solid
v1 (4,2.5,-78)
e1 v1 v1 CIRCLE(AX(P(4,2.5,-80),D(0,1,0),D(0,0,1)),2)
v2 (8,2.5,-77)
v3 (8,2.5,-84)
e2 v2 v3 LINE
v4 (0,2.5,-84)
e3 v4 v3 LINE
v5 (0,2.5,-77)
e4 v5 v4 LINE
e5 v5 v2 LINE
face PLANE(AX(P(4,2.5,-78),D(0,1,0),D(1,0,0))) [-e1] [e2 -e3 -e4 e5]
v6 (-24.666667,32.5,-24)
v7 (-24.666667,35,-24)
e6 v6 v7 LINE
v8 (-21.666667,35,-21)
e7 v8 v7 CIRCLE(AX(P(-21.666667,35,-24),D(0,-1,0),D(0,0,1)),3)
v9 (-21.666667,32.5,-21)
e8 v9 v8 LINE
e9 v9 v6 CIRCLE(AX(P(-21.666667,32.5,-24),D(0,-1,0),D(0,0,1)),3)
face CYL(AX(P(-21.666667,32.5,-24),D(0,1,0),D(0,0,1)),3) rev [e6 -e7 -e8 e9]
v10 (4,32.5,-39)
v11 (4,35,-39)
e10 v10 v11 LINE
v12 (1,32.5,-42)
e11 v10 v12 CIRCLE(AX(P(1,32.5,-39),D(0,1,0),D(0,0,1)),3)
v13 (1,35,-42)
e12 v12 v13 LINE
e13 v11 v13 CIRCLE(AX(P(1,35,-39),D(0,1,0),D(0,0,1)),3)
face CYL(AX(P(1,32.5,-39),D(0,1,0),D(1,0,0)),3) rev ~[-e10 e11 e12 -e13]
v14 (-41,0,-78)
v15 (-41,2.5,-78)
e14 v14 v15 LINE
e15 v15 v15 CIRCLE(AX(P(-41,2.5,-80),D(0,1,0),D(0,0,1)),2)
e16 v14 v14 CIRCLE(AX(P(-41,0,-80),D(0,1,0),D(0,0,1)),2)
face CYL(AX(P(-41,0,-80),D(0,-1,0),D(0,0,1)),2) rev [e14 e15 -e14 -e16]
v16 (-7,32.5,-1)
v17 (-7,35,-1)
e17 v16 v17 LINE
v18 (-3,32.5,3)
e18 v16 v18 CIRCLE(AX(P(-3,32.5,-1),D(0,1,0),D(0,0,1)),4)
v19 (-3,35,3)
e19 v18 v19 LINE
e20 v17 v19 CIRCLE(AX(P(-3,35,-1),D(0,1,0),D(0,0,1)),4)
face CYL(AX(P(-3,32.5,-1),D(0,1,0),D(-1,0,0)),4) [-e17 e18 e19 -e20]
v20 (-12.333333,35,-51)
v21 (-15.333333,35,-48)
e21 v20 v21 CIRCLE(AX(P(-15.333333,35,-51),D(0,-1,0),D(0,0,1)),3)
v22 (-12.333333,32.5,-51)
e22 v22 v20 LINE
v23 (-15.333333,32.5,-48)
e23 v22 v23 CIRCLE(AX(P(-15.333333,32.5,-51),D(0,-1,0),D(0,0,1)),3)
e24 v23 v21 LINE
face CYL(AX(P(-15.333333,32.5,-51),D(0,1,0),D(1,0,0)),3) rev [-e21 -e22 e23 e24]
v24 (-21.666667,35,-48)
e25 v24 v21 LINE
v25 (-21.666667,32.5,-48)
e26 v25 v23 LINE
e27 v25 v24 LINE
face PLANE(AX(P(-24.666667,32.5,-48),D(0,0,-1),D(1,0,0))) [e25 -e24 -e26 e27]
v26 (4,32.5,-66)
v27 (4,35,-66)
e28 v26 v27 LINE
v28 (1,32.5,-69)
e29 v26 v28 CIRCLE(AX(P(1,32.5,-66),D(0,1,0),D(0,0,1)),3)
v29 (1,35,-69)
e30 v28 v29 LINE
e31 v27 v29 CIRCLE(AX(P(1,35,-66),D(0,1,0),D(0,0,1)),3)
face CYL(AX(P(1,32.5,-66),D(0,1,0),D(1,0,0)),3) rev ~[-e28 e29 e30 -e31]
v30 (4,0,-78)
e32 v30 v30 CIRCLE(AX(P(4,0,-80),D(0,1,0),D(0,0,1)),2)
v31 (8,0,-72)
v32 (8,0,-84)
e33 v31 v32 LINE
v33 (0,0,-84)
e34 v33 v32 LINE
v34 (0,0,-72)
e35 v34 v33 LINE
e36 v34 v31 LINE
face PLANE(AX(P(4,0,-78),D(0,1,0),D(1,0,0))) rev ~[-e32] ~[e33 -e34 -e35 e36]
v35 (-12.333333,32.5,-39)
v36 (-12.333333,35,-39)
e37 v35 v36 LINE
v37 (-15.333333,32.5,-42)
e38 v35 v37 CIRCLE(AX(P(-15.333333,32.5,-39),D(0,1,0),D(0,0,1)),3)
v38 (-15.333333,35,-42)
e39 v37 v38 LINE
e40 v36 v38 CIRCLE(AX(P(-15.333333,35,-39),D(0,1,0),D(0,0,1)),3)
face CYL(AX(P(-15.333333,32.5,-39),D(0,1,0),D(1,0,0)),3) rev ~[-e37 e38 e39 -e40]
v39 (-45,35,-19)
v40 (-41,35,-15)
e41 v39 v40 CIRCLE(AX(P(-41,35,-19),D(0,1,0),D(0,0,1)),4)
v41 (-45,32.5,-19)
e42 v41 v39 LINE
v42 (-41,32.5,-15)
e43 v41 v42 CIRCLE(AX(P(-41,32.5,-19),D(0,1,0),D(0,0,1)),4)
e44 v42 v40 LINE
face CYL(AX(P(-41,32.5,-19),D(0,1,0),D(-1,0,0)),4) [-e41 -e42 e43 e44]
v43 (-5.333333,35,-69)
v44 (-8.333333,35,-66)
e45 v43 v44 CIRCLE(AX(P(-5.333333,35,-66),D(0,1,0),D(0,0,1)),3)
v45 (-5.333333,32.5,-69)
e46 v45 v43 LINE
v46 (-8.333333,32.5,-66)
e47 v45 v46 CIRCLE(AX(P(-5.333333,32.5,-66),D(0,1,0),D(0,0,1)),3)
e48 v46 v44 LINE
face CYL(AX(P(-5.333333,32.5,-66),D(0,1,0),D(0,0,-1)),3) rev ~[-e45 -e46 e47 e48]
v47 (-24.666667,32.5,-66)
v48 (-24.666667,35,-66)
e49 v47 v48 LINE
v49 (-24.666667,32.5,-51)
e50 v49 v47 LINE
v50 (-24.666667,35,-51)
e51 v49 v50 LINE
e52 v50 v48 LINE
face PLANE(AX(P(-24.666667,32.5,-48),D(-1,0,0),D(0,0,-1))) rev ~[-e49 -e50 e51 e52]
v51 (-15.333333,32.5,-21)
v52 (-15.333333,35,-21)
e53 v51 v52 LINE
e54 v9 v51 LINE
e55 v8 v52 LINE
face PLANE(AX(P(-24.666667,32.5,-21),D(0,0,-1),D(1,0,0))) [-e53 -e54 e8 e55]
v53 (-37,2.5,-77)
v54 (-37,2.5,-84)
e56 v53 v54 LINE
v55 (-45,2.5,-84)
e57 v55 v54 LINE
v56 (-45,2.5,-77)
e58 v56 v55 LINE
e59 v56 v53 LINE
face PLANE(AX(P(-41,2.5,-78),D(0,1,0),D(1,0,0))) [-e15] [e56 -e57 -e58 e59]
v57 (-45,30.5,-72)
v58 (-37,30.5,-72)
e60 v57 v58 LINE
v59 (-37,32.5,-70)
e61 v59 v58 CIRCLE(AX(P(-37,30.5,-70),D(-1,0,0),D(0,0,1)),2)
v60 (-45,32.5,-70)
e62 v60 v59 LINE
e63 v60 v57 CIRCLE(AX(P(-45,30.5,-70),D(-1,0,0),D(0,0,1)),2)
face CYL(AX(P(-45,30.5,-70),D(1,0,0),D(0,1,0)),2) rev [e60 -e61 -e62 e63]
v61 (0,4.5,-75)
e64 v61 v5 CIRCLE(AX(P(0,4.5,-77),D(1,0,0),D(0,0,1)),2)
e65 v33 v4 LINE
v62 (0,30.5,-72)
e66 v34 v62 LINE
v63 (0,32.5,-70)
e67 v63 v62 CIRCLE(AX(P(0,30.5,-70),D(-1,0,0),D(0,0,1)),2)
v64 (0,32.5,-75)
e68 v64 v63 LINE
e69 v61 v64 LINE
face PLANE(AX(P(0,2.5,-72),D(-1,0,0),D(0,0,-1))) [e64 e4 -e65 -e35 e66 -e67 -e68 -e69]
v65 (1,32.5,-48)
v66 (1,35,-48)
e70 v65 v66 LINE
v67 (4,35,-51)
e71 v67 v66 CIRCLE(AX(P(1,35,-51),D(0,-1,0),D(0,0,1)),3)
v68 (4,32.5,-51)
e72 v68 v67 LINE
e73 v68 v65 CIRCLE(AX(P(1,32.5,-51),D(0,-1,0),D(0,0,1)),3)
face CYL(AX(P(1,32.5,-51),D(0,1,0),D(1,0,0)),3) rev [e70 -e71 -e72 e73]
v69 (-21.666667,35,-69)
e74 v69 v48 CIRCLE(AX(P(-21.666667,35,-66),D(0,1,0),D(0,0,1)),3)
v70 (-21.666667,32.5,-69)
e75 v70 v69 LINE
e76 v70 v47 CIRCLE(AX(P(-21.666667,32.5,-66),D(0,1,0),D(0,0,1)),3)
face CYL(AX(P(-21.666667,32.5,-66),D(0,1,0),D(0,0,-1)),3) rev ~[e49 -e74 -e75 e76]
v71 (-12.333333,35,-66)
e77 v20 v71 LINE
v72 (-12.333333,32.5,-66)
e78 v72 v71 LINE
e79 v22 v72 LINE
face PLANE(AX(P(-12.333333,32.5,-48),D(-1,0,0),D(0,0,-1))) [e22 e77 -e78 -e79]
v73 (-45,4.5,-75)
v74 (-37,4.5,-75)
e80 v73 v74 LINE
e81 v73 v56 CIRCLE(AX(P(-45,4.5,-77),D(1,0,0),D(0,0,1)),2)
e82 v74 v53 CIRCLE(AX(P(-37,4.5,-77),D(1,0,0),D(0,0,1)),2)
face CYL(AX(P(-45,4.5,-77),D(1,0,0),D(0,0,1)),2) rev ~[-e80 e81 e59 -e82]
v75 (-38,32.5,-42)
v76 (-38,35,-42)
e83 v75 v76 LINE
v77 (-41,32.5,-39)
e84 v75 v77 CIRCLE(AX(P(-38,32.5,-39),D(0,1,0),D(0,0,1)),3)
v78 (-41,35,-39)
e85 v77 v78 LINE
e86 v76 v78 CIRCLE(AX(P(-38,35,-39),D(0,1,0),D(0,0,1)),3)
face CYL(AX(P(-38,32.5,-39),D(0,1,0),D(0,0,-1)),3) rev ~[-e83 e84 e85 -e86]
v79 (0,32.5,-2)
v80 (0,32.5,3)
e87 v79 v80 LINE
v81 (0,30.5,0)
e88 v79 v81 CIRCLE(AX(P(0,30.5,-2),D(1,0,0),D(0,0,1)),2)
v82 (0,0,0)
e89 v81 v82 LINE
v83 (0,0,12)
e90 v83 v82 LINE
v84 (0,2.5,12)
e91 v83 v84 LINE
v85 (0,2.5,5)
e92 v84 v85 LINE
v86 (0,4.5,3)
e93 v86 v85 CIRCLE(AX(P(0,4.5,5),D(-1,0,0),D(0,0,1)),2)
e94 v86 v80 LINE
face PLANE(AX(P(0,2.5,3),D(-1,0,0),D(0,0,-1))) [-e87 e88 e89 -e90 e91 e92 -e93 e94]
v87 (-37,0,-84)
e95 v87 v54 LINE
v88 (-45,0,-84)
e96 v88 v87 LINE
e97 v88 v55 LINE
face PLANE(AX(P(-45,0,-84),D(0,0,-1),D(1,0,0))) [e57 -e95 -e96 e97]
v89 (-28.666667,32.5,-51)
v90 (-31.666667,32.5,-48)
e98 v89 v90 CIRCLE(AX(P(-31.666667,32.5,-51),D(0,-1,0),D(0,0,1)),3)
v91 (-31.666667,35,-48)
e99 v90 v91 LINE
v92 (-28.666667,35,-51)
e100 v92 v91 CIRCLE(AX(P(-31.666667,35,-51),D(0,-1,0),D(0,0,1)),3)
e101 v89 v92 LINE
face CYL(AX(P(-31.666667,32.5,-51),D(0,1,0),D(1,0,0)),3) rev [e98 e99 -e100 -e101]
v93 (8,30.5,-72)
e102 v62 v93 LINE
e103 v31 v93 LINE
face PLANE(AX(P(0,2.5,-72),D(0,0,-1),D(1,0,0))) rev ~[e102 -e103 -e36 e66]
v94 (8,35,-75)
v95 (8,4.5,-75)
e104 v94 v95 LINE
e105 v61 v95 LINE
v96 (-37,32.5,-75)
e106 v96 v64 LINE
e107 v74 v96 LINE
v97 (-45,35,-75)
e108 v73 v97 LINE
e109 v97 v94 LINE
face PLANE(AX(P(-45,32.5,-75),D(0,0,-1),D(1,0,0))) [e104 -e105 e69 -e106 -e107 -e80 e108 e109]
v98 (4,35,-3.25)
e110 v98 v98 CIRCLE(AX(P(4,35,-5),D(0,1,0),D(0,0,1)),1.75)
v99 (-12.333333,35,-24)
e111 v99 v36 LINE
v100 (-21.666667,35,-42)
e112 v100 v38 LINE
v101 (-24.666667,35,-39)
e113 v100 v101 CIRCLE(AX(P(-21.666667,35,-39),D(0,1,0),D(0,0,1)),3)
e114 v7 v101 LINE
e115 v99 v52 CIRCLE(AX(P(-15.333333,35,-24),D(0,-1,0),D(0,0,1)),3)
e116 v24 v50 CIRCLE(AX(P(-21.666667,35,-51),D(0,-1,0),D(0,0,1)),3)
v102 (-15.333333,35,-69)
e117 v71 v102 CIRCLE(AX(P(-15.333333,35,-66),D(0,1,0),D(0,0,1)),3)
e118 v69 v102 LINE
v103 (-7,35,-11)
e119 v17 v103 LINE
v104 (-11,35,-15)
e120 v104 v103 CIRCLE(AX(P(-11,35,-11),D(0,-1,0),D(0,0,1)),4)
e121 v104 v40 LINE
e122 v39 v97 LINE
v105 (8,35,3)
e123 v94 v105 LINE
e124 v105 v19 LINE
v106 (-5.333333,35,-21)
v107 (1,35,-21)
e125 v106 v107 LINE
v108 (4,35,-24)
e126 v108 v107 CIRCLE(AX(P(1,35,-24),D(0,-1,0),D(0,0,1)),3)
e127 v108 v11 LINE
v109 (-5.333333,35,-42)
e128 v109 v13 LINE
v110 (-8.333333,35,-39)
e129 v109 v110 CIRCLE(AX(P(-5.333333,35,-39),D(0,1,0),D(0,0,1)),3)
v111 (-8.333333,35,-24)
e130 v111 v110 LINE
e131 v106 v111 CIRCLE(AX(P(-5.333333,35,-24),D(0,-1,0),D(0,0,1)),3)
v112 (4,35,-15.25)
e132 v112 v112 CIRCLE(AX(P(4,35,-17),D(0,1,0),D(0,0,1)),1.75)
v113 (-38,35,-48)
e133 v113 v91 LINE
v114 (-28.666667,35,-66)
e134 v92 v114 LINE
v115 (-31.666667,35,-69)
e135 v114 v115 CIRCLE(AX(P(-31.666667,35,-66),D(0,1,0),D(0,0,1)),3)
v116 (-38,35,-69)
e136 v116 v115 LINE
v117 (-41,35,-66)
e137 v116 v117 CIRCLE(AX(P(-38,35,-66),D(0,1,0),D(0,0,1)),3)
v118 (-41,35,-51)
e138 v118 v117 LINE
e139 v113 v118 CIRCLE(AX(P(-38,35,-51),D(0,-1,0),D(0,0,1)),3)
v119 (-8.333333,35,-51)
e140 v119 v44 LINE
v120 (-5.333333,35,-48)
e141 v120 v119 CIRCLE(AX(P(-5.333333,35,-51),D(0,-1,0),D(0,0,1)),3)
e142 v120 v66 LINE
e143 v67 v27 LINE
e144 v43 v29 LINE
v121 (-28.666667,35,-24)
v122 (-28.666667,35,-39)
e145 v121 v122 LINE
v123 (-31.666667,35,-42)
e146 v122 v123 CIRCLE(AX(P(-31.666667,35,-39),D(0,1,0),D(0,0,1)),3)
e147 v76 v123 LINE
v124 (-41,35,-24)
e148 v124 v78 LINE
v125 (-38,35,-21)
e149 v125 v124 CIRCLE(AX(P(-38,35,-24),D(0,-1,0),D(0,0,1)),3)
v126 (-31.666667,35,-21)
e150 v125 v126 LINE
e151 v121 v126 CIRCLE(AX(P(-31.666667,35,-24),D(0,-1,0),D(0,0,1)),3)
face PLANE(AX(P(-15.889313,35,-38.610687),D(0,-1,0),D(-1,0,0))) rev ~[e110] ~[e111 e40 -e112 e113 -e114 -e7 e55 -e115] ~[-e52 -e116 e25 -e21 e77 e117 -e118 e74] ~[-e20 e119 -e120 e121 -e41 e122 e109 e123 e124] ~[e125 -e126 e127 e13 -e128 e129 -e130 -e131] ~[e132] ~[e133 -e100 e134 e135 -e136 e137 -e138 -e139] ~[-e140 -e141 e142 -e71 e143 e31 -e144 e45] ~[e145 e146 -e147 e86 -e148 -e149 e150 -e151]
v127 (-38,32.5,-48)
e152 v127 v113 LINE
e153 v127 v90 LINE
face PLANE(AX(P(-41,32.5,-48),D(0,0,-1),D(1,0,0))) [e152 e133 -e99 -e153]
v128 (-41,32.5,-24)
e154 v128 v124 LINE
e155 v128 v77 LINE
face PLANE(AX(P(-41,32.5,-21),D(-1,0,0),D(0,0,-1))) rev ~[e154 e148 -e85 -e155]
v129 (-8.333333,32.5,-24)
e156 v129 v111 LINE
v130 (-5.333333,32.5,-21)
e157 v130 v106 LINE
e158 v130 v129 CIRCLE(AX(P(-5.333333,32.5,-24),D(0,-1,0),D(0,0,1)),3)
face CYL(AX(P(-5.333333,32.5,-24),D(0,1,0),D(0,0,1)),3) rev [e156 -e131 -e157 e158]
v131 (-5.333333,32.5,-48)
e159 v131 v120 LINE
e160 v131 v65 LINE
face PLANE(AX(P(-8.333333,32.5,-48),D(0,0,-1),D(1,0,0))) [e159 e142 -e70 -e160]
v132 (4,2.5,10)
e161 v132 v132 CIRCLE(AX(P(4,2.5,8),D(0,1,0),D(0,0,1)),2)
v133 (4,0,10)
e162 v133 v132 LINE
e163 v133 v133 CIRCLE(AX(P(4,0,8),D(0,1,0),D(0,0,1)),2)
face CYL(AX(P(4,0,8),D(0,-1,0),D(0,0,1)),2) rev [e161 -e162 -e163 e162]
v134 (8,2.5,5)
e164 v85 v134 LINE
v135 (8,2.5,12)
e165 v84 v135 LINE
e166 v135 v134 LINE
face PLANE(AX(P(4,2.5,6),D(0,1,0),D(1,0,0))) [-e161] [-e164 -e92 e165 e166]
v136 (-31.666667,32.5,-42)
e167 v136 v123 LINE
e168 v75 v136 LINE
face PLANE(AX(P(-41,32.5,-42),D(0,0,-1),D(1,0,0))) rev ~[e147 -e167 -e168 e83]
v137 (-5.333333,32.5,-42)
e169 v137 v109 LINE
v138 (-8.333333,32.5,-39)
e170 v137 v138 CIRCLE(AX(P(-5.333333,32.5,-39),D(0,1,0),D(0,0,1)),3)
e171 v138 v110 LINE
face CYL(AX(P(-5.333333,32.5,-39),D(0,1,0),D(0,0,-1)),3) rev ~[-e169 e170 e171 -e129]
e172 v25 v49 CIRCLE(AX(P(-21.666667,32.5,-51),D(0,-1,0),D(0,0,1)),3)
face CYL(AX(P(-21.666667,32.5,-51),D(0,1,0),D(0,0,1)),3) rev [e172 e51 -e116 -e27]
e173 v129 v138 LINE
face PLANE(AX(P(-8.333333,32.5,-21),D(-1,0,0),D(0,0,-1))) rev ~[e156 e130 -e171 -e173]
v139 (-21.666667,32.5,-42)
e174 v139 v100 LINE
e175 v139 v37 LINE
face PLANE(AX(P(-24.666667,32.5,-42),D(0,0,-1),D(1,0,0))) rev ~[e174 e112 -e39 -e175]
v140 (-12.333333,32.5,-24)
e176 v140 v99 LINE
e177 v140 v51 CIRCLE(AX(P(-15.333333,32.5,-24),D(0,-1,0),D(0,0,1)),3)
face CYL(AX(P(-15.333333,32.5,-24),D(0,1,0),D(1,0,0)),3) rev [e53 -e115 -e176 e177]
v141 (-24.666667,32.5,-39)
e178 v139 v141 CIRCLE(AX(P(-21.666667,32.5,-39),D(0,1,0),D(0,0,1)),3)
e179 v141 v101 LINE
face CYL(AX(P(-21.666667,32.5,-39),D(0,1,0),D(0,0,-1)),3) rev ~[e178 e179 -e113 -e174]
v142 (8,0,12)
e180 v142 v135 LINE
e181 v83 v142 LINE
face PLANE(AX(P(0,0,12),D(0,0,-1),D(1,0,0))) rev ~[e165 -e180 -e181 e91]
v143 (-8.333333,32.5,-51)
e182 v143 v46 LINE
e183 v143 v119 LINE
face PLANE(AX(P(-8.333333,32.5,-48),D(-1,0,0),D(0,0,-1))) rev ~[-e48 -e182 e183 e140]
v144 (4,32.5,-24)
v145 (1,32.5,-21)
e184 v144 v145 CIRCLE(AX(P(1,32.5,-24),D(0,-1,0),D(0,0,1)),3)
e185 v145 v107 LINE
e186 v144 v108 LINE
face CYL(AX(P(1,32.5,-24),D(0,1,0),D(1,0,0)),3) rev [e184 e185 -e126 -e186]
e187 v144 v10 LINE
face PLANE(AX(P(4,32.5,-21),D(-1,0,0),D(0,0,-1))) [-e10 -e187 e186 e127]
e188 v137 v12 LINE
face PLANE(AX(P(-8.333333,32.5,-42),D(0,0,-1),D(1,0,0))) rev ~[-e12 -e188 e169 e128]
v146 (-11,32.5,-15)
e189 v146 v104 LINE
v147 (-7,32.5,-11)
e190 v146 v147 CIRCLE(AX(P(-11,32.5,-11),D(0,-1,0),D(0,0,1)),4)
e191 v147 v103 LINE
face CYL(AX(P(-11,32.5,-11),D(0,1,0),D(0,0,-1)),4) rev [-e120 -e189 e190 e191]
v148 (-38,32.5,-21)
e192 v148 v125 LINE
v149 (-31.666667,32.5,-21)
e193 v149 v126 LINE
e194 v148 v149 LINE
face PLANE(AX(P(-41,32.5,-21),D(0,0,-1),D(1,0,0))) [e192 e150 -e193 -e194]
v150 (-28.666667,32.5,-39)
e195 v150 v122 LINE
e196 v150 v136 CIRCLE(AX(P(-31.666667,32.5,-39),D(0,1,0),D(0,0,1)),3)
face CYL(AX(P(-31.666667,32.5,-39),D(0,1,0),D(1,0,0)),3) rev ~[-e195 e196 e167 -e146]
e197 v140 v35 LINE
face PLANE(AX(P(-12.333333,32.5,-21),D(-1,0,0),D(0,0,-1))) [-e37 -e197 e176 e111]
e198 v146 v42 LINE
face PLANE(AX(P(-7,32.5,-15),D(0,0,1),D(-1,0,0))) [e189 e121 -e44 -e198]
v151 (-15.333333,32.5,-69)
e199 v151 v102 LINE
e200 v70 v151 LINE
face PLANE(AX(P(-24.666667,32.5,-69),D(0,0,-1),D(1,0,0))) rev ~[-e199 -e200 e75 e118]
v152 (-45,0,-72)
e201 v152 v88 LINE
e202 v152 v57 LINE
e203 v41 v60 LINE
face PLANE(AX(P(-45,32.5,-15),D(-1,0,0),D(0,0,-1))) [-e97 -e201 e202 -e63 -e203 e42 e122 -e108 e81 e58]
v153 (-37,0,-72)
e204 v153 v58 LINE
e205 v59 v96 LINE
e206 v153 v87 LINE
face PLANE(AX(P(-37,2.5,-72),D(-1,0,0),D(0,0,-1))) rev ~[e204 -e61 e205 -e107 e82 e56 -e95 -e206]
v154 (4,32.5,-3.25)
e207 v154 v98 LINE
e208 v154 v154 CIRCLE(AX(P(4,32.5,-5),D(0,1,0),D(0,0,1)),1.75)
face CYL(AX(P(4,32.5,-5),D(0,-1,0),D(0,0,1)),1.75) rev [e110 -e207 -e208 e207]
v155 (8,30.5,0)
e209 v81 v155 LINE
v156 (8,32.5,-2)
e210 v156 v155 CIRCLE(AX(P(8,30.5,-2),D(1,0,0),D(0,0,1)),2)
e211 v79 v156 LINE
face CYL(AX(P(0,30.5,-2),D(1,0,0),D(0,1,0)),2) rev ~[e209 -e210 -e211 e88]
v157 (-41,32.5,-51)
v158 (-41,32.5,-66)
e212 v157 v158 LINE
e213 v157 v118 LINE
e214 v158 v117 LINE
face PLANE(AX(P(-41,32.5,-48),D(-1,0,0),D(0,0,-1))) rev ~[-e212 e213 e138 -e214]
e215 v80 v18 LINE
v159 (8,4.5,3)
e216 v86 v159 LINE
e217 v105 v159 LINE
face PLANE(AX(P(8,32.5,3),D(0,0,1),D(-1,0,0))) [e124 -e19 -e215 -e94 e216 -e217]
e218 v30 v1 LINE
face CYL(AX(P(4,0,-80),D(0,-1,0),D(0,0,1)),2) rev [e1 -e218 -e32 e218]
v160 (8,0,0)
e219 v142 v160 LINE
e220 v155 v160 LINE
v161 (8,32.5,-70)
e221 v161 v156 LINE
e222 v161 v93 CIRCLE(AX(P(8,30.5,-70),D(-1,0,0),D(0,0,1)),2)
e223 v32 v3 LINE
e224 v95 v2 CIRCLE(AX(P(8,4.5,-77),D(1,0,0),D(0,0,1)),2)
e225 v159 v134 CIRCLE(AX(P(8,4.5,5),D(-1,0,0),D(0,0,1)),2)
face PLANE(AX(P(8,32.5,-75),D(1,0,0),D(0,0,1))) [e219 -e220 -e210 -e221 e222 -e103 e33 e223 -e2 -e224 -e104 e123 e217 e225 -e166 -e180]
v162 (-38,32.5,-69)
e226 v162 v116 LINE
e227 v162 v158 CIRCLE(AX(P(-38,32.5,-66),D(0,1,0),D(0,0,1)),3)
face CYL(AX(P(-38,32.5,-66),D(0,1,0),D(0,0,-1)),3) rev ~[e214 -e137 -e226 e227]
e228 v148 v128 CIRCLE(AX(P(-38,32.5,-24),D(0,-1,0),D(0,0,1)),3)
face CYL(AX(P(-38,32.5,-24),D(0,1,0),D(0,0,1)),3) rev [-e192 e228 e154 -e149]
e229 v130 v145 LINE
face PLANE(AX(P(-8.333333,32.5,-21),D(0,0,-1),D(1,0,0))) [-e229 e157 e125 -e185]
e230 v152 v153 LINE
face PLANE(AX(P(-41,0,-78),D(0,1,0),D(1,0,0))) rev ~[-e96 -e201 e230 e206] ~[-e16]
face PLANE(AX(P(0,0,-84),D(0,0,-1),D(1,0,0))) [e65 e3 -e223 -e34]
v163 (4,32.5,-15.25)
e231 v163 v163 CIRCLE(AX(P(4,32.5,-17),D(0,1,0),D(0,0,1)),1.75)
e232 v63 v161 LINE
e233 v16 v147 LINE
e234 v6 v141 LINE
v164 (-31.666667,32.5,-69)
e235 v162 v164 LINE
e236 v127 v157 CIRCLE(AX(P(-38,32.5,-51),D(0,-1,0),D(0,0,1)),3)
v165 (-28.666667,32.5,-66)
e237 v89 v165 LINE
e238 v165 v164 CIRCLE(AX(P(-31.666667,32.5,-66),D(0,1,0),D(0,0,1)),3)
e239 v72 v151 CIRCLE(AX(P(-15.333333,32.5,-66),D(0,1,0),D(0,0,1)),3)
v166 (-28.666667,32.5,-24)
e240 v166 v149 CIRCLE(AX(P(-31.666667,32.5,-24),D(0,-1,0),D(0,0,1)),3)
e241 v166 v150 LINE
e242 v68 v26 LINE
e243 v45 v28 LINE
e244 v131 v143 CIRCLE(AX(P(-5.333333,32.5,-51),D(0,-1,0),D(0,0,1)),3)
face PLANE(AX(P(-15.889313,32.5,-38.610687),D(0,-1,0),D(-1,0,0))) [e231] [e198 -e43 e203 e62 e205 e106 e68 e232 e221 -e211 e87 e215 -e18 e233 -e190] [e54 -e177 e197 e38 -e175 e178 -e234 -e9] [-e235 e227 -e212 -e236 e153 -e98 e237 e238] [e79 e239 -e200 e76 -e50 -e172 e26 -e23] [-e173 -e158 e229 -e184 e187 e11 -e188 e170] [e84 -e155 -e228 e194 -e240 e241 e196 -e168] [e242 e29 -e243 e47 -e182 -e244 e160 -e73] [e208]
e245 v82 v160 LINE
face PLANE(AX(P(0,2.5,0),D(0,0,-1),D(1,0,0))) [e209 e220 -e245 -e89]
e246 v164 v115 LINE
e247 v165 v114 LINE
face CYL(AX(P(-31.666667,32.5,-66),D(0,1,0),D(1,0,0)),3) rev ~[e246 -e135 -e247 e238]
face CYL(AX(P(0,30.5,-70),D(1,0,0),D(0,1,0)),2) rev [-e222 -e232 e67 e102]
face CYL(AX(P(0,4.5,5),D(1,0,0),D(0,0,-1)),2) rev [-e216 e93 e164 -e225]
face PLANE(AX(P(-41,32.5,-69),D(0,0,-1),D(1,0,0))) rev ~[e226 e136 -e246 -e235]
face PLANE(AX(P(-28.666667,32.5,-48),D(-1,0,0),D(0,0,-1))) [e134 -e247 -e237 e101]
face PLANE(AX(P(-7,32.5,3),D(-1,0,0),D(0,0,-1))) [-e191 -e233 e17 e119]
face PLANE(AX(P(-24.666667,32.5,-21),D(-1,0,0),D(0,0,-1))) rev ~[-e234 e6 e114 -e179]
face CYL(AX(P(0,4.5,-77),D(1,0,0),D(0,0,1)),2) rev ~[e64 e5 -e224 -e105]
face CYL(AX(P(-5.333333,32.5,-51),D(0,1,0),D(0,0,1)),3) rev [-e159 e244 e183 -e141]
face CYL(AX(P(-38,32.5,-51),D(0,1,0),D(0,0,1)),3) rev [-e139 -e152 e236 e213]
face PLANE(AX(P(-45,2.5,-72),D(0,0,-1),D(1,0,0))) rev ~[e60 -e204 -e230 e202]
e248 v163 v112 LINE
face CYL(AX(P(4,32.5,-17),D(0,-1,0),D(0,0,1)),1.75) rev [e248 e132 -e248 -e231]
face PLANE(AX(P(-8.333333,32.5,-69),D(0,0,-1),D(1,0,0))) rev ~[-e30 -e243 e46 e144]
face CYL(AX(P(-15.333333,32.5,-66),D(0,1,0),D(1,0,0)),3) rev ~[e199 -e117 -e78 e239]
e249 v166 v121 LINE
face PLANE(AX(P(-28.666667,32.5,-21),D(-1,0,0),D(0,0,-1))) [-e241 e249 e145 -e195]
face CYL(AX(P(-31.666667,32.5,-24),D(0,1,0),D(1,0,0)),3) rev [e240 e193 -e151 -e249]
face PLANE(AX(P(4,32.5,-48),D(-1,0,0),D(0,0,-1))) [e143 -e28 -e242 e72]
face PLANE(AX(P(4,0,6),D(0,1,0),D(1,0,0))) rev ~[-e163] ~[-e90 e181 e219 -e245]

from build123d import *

# Parameters (mm, degrees)
SKETCH1_W             = 8
SKETCH1_H             = 12
SKETCH1_R             = 2
BOSS_EXTRUDE1_DEPTH   = 2.5
BOSS_EXTRUDE1_2_DEPTH = 2.5
BOSS_EXTRUDE1_3_DEPTH = 2.5
SKETCH2_W             = 8
SKETCH2_H             = 3
BOSS_EXTRUDE2_DEPTH   = 30
SKETCH3_R             = 1.75
SKETCH3_W             = 12.333333333
SKETCH3_H             = 21
SKETCH3_W_2           = 12.333333334
BOSS_EXTRUDE3_DEPTH   = 2.5
FILLET1_R             = 3
FILLET2_R             = 4
FILLET3_R             = 2
FILLET4_R             = 2


with BuildPart() as part:
    # Sketch1 → Boss-Extrude1 (new body)
    with BuildSketch(Plane(origin=(0, 0, 0), x_dir=(1, 0, 0), z_dir=(0, 1, 0))):
        with Locations((-41, 78)):
            Rectangle(SKETCH1_W, SKETCH1_H)
        with Locations(Location((-41, 80, 0), (0, 0, 270))):
            Circle(SKETCH1_R, mode=Mode.SUBTRACT)
    extrude(amount=BOSS_EXTRUDE1_DEPTH)



with BuildPart() as body_2:
    # Sketch1 → Boss-Extrude1 2 (new body)
    with BuildSketch(Plane(origin=(0, 0, 0), x_dir=(1, 0, 0), z_dir=(0, 1, 0))):
        with Locations((4, -6)):
            Rectangle(SKETCH1_W, SKETCH1_H)
        with Locations(Location((4, -8, 0), (0, 0, 270))):
            Circle(SKETCH1_R, mode=Mode.SUBTRACT)
    extrude(amount=BOSS_EXTRUDE1_2_DEPTH)


with BuildPart() as body_3:
    # Sketch1 → Boss-Extrude1 3 (new body)
    with BuildSketch(Plane(origin=(0, 0, 0), x_dir=(1, 0, 0), z_dir=(0, 1, 0))):
        with Locations((4, 78)):
            Rectangle(SKETCH1_W, SKETCH1_H)
        with Locations(Location((4, 80, 0), (0, 0, 270))):
            Circle(SKETCH1_R, mode=Mode.SUBTRACT)
    extrude(amount=BOSS_EXTRUDE1_3_DEPTH)


with BuildPart() as part_1:
    add(part.part)

    add(body_2.part)  # Boss-Extrude2 merges body 2

    add(body_3.part)  # Boss-Extrude2 merges body 3
    # Sketch2 → Boss-Extrude2 (add)
    with BuildSketch(Plane(origin=(0, 2.5, 0), x_dir=(1, 0, 0), z_dir=(0, 1, 0))):
        with Locations((-41, 73.5)):
            Rectangle(SKETCH2_W, SKETCH2_H)
        with Locations((4, 73.5)):
            Rectangle(SKETCH2_W, SKETCH2_H)
        with Locations((4, -1.5)):
            Rectangle(SKETCH2_W, SKETCH2_H)
    extrude(amount=BOSS_EXTRUDE2_DEPTH)

    # Sketch3 → Boss-Extrude3 (add)
    with BuildSketch(Plane(origin=(0, 32.5, 0), x_dir=(1, 0, 0), z_dir=(0, 1, 0))):
        Polygon((-45, 75), (8, 75), (8, -3), (-7, -3), (-7, 15), (-45, 15), align=None)
        with Locations(Location((4, 5, 0), (0, 0, 270))):
            Circle(SKETCH3_R, mode=Mode.SUBTRACT)
        with Locations(Location((4, 17, 0), (0, 0, 270))):
            Circle(SKETCH3_R, mode=Mode.SUBTRACT)
        with Locations((-34.833333334, 58.5)):
            Rectangle(SKETCH3_W, SKETCH3_H, mode=Mode.SUBTRACT)
        with Locations((-18.5, 58.5)):
            Rectangle(SKETCH3_W_2, SKETCH3_H, mode=Mode.SUBTRACT)
        with Locations((-2.166666667, 58.5)):
            Rectangle(SKETCH3_W, SKETCH3_H, mode=Mode.SUBTRACT)
        with Locations((-34.833333334, 31.5)):
            Rectangle(SKETCH3_W, SKETCH3_H, mode=Mode.SUBTRACT)
        with Locations((-18.5, 31.5)):
            Rectangle(SKETCH3_W_2, SKETCH3_H, mode=Mode.SUBTRACT)
        with Locations((-2.166666667, 31.5)):
            Rectangle(SKETCH3_W, SKETCH3_H, mode=Mode.SUBTRACT)
    extrude(amount=BOSS_EXTRUDE3_DEPTH)

    # Fillet1
    fillet1_edges = [part_1.edges().sort_by_distance(p)[0] for p in [
        (-24.666666667, 33.75, -48),
        (-12.333333333, 33.75, -48),
        (-12.333333333, 33.75, -69),
        (-24.666666667, 33.75, -69),
        (-41, 33.75, -48),
        (-28.666666667, 33.75, -48),
        (-28.666666667, 33.75, -69),
        (-41, 33.75, -69),
        (-8.333333333, 33.75, -48),
        (4, 33.75, -48),
        (4, 33.75, -69),
        (-8.333333333, 33.75, -69),
        (-41, 33.75, -21),
        (-28.666666667, 33.75, -21),
        (-28.666666667, 33.75, -42),
        (-41, 33.75, -42),
        (-24.666666667, 33.75, -21),
        (-12.333333333, 33.75, -21),
        (-12.333333333, 33.75, -42),
        (-24.666666667, 33.75, -42),
        (-8.333333333, 33.75, -21),
        (4, 33.75, -21),
        (4, 33.75, -42),
        (-8.333333333, 33.75, -42),
    ]]
    fillet(fillet1_edges, radius=FILLET1_R)

    # Fillet2
    fillet2_edges = [part_1.edges().sort_by_distance(p)[0] for p in [
        (-45, 33.75, -15),
        (-7, 33.75, -15),
        (-7, 33.75, 3),
    ]]
    fillet(fillet2_edges, radius=FILLET2_R)

    # Fillet3
    fillet3_edges = [part_1.edges().sort_by_distance(p)[0] for p in [
        (4, 2.5, 3),
        (4, 2.5, -75),
        (-41, 2.5, -75),
    ]]
    fillet(fillet3_edges, radius=FILLET3_R)

    # Fillet4
    fillet4_edges = [part_1.edges().sort_by_distance(p)[0] for p in [
        (4, 32.5, 0),
        (4, 32.5, -72),
        (-41, 32.5, -72),
    ]]
    fillet(fillet4_edges, radius=FILLET4_R)


solid = part_1.part
